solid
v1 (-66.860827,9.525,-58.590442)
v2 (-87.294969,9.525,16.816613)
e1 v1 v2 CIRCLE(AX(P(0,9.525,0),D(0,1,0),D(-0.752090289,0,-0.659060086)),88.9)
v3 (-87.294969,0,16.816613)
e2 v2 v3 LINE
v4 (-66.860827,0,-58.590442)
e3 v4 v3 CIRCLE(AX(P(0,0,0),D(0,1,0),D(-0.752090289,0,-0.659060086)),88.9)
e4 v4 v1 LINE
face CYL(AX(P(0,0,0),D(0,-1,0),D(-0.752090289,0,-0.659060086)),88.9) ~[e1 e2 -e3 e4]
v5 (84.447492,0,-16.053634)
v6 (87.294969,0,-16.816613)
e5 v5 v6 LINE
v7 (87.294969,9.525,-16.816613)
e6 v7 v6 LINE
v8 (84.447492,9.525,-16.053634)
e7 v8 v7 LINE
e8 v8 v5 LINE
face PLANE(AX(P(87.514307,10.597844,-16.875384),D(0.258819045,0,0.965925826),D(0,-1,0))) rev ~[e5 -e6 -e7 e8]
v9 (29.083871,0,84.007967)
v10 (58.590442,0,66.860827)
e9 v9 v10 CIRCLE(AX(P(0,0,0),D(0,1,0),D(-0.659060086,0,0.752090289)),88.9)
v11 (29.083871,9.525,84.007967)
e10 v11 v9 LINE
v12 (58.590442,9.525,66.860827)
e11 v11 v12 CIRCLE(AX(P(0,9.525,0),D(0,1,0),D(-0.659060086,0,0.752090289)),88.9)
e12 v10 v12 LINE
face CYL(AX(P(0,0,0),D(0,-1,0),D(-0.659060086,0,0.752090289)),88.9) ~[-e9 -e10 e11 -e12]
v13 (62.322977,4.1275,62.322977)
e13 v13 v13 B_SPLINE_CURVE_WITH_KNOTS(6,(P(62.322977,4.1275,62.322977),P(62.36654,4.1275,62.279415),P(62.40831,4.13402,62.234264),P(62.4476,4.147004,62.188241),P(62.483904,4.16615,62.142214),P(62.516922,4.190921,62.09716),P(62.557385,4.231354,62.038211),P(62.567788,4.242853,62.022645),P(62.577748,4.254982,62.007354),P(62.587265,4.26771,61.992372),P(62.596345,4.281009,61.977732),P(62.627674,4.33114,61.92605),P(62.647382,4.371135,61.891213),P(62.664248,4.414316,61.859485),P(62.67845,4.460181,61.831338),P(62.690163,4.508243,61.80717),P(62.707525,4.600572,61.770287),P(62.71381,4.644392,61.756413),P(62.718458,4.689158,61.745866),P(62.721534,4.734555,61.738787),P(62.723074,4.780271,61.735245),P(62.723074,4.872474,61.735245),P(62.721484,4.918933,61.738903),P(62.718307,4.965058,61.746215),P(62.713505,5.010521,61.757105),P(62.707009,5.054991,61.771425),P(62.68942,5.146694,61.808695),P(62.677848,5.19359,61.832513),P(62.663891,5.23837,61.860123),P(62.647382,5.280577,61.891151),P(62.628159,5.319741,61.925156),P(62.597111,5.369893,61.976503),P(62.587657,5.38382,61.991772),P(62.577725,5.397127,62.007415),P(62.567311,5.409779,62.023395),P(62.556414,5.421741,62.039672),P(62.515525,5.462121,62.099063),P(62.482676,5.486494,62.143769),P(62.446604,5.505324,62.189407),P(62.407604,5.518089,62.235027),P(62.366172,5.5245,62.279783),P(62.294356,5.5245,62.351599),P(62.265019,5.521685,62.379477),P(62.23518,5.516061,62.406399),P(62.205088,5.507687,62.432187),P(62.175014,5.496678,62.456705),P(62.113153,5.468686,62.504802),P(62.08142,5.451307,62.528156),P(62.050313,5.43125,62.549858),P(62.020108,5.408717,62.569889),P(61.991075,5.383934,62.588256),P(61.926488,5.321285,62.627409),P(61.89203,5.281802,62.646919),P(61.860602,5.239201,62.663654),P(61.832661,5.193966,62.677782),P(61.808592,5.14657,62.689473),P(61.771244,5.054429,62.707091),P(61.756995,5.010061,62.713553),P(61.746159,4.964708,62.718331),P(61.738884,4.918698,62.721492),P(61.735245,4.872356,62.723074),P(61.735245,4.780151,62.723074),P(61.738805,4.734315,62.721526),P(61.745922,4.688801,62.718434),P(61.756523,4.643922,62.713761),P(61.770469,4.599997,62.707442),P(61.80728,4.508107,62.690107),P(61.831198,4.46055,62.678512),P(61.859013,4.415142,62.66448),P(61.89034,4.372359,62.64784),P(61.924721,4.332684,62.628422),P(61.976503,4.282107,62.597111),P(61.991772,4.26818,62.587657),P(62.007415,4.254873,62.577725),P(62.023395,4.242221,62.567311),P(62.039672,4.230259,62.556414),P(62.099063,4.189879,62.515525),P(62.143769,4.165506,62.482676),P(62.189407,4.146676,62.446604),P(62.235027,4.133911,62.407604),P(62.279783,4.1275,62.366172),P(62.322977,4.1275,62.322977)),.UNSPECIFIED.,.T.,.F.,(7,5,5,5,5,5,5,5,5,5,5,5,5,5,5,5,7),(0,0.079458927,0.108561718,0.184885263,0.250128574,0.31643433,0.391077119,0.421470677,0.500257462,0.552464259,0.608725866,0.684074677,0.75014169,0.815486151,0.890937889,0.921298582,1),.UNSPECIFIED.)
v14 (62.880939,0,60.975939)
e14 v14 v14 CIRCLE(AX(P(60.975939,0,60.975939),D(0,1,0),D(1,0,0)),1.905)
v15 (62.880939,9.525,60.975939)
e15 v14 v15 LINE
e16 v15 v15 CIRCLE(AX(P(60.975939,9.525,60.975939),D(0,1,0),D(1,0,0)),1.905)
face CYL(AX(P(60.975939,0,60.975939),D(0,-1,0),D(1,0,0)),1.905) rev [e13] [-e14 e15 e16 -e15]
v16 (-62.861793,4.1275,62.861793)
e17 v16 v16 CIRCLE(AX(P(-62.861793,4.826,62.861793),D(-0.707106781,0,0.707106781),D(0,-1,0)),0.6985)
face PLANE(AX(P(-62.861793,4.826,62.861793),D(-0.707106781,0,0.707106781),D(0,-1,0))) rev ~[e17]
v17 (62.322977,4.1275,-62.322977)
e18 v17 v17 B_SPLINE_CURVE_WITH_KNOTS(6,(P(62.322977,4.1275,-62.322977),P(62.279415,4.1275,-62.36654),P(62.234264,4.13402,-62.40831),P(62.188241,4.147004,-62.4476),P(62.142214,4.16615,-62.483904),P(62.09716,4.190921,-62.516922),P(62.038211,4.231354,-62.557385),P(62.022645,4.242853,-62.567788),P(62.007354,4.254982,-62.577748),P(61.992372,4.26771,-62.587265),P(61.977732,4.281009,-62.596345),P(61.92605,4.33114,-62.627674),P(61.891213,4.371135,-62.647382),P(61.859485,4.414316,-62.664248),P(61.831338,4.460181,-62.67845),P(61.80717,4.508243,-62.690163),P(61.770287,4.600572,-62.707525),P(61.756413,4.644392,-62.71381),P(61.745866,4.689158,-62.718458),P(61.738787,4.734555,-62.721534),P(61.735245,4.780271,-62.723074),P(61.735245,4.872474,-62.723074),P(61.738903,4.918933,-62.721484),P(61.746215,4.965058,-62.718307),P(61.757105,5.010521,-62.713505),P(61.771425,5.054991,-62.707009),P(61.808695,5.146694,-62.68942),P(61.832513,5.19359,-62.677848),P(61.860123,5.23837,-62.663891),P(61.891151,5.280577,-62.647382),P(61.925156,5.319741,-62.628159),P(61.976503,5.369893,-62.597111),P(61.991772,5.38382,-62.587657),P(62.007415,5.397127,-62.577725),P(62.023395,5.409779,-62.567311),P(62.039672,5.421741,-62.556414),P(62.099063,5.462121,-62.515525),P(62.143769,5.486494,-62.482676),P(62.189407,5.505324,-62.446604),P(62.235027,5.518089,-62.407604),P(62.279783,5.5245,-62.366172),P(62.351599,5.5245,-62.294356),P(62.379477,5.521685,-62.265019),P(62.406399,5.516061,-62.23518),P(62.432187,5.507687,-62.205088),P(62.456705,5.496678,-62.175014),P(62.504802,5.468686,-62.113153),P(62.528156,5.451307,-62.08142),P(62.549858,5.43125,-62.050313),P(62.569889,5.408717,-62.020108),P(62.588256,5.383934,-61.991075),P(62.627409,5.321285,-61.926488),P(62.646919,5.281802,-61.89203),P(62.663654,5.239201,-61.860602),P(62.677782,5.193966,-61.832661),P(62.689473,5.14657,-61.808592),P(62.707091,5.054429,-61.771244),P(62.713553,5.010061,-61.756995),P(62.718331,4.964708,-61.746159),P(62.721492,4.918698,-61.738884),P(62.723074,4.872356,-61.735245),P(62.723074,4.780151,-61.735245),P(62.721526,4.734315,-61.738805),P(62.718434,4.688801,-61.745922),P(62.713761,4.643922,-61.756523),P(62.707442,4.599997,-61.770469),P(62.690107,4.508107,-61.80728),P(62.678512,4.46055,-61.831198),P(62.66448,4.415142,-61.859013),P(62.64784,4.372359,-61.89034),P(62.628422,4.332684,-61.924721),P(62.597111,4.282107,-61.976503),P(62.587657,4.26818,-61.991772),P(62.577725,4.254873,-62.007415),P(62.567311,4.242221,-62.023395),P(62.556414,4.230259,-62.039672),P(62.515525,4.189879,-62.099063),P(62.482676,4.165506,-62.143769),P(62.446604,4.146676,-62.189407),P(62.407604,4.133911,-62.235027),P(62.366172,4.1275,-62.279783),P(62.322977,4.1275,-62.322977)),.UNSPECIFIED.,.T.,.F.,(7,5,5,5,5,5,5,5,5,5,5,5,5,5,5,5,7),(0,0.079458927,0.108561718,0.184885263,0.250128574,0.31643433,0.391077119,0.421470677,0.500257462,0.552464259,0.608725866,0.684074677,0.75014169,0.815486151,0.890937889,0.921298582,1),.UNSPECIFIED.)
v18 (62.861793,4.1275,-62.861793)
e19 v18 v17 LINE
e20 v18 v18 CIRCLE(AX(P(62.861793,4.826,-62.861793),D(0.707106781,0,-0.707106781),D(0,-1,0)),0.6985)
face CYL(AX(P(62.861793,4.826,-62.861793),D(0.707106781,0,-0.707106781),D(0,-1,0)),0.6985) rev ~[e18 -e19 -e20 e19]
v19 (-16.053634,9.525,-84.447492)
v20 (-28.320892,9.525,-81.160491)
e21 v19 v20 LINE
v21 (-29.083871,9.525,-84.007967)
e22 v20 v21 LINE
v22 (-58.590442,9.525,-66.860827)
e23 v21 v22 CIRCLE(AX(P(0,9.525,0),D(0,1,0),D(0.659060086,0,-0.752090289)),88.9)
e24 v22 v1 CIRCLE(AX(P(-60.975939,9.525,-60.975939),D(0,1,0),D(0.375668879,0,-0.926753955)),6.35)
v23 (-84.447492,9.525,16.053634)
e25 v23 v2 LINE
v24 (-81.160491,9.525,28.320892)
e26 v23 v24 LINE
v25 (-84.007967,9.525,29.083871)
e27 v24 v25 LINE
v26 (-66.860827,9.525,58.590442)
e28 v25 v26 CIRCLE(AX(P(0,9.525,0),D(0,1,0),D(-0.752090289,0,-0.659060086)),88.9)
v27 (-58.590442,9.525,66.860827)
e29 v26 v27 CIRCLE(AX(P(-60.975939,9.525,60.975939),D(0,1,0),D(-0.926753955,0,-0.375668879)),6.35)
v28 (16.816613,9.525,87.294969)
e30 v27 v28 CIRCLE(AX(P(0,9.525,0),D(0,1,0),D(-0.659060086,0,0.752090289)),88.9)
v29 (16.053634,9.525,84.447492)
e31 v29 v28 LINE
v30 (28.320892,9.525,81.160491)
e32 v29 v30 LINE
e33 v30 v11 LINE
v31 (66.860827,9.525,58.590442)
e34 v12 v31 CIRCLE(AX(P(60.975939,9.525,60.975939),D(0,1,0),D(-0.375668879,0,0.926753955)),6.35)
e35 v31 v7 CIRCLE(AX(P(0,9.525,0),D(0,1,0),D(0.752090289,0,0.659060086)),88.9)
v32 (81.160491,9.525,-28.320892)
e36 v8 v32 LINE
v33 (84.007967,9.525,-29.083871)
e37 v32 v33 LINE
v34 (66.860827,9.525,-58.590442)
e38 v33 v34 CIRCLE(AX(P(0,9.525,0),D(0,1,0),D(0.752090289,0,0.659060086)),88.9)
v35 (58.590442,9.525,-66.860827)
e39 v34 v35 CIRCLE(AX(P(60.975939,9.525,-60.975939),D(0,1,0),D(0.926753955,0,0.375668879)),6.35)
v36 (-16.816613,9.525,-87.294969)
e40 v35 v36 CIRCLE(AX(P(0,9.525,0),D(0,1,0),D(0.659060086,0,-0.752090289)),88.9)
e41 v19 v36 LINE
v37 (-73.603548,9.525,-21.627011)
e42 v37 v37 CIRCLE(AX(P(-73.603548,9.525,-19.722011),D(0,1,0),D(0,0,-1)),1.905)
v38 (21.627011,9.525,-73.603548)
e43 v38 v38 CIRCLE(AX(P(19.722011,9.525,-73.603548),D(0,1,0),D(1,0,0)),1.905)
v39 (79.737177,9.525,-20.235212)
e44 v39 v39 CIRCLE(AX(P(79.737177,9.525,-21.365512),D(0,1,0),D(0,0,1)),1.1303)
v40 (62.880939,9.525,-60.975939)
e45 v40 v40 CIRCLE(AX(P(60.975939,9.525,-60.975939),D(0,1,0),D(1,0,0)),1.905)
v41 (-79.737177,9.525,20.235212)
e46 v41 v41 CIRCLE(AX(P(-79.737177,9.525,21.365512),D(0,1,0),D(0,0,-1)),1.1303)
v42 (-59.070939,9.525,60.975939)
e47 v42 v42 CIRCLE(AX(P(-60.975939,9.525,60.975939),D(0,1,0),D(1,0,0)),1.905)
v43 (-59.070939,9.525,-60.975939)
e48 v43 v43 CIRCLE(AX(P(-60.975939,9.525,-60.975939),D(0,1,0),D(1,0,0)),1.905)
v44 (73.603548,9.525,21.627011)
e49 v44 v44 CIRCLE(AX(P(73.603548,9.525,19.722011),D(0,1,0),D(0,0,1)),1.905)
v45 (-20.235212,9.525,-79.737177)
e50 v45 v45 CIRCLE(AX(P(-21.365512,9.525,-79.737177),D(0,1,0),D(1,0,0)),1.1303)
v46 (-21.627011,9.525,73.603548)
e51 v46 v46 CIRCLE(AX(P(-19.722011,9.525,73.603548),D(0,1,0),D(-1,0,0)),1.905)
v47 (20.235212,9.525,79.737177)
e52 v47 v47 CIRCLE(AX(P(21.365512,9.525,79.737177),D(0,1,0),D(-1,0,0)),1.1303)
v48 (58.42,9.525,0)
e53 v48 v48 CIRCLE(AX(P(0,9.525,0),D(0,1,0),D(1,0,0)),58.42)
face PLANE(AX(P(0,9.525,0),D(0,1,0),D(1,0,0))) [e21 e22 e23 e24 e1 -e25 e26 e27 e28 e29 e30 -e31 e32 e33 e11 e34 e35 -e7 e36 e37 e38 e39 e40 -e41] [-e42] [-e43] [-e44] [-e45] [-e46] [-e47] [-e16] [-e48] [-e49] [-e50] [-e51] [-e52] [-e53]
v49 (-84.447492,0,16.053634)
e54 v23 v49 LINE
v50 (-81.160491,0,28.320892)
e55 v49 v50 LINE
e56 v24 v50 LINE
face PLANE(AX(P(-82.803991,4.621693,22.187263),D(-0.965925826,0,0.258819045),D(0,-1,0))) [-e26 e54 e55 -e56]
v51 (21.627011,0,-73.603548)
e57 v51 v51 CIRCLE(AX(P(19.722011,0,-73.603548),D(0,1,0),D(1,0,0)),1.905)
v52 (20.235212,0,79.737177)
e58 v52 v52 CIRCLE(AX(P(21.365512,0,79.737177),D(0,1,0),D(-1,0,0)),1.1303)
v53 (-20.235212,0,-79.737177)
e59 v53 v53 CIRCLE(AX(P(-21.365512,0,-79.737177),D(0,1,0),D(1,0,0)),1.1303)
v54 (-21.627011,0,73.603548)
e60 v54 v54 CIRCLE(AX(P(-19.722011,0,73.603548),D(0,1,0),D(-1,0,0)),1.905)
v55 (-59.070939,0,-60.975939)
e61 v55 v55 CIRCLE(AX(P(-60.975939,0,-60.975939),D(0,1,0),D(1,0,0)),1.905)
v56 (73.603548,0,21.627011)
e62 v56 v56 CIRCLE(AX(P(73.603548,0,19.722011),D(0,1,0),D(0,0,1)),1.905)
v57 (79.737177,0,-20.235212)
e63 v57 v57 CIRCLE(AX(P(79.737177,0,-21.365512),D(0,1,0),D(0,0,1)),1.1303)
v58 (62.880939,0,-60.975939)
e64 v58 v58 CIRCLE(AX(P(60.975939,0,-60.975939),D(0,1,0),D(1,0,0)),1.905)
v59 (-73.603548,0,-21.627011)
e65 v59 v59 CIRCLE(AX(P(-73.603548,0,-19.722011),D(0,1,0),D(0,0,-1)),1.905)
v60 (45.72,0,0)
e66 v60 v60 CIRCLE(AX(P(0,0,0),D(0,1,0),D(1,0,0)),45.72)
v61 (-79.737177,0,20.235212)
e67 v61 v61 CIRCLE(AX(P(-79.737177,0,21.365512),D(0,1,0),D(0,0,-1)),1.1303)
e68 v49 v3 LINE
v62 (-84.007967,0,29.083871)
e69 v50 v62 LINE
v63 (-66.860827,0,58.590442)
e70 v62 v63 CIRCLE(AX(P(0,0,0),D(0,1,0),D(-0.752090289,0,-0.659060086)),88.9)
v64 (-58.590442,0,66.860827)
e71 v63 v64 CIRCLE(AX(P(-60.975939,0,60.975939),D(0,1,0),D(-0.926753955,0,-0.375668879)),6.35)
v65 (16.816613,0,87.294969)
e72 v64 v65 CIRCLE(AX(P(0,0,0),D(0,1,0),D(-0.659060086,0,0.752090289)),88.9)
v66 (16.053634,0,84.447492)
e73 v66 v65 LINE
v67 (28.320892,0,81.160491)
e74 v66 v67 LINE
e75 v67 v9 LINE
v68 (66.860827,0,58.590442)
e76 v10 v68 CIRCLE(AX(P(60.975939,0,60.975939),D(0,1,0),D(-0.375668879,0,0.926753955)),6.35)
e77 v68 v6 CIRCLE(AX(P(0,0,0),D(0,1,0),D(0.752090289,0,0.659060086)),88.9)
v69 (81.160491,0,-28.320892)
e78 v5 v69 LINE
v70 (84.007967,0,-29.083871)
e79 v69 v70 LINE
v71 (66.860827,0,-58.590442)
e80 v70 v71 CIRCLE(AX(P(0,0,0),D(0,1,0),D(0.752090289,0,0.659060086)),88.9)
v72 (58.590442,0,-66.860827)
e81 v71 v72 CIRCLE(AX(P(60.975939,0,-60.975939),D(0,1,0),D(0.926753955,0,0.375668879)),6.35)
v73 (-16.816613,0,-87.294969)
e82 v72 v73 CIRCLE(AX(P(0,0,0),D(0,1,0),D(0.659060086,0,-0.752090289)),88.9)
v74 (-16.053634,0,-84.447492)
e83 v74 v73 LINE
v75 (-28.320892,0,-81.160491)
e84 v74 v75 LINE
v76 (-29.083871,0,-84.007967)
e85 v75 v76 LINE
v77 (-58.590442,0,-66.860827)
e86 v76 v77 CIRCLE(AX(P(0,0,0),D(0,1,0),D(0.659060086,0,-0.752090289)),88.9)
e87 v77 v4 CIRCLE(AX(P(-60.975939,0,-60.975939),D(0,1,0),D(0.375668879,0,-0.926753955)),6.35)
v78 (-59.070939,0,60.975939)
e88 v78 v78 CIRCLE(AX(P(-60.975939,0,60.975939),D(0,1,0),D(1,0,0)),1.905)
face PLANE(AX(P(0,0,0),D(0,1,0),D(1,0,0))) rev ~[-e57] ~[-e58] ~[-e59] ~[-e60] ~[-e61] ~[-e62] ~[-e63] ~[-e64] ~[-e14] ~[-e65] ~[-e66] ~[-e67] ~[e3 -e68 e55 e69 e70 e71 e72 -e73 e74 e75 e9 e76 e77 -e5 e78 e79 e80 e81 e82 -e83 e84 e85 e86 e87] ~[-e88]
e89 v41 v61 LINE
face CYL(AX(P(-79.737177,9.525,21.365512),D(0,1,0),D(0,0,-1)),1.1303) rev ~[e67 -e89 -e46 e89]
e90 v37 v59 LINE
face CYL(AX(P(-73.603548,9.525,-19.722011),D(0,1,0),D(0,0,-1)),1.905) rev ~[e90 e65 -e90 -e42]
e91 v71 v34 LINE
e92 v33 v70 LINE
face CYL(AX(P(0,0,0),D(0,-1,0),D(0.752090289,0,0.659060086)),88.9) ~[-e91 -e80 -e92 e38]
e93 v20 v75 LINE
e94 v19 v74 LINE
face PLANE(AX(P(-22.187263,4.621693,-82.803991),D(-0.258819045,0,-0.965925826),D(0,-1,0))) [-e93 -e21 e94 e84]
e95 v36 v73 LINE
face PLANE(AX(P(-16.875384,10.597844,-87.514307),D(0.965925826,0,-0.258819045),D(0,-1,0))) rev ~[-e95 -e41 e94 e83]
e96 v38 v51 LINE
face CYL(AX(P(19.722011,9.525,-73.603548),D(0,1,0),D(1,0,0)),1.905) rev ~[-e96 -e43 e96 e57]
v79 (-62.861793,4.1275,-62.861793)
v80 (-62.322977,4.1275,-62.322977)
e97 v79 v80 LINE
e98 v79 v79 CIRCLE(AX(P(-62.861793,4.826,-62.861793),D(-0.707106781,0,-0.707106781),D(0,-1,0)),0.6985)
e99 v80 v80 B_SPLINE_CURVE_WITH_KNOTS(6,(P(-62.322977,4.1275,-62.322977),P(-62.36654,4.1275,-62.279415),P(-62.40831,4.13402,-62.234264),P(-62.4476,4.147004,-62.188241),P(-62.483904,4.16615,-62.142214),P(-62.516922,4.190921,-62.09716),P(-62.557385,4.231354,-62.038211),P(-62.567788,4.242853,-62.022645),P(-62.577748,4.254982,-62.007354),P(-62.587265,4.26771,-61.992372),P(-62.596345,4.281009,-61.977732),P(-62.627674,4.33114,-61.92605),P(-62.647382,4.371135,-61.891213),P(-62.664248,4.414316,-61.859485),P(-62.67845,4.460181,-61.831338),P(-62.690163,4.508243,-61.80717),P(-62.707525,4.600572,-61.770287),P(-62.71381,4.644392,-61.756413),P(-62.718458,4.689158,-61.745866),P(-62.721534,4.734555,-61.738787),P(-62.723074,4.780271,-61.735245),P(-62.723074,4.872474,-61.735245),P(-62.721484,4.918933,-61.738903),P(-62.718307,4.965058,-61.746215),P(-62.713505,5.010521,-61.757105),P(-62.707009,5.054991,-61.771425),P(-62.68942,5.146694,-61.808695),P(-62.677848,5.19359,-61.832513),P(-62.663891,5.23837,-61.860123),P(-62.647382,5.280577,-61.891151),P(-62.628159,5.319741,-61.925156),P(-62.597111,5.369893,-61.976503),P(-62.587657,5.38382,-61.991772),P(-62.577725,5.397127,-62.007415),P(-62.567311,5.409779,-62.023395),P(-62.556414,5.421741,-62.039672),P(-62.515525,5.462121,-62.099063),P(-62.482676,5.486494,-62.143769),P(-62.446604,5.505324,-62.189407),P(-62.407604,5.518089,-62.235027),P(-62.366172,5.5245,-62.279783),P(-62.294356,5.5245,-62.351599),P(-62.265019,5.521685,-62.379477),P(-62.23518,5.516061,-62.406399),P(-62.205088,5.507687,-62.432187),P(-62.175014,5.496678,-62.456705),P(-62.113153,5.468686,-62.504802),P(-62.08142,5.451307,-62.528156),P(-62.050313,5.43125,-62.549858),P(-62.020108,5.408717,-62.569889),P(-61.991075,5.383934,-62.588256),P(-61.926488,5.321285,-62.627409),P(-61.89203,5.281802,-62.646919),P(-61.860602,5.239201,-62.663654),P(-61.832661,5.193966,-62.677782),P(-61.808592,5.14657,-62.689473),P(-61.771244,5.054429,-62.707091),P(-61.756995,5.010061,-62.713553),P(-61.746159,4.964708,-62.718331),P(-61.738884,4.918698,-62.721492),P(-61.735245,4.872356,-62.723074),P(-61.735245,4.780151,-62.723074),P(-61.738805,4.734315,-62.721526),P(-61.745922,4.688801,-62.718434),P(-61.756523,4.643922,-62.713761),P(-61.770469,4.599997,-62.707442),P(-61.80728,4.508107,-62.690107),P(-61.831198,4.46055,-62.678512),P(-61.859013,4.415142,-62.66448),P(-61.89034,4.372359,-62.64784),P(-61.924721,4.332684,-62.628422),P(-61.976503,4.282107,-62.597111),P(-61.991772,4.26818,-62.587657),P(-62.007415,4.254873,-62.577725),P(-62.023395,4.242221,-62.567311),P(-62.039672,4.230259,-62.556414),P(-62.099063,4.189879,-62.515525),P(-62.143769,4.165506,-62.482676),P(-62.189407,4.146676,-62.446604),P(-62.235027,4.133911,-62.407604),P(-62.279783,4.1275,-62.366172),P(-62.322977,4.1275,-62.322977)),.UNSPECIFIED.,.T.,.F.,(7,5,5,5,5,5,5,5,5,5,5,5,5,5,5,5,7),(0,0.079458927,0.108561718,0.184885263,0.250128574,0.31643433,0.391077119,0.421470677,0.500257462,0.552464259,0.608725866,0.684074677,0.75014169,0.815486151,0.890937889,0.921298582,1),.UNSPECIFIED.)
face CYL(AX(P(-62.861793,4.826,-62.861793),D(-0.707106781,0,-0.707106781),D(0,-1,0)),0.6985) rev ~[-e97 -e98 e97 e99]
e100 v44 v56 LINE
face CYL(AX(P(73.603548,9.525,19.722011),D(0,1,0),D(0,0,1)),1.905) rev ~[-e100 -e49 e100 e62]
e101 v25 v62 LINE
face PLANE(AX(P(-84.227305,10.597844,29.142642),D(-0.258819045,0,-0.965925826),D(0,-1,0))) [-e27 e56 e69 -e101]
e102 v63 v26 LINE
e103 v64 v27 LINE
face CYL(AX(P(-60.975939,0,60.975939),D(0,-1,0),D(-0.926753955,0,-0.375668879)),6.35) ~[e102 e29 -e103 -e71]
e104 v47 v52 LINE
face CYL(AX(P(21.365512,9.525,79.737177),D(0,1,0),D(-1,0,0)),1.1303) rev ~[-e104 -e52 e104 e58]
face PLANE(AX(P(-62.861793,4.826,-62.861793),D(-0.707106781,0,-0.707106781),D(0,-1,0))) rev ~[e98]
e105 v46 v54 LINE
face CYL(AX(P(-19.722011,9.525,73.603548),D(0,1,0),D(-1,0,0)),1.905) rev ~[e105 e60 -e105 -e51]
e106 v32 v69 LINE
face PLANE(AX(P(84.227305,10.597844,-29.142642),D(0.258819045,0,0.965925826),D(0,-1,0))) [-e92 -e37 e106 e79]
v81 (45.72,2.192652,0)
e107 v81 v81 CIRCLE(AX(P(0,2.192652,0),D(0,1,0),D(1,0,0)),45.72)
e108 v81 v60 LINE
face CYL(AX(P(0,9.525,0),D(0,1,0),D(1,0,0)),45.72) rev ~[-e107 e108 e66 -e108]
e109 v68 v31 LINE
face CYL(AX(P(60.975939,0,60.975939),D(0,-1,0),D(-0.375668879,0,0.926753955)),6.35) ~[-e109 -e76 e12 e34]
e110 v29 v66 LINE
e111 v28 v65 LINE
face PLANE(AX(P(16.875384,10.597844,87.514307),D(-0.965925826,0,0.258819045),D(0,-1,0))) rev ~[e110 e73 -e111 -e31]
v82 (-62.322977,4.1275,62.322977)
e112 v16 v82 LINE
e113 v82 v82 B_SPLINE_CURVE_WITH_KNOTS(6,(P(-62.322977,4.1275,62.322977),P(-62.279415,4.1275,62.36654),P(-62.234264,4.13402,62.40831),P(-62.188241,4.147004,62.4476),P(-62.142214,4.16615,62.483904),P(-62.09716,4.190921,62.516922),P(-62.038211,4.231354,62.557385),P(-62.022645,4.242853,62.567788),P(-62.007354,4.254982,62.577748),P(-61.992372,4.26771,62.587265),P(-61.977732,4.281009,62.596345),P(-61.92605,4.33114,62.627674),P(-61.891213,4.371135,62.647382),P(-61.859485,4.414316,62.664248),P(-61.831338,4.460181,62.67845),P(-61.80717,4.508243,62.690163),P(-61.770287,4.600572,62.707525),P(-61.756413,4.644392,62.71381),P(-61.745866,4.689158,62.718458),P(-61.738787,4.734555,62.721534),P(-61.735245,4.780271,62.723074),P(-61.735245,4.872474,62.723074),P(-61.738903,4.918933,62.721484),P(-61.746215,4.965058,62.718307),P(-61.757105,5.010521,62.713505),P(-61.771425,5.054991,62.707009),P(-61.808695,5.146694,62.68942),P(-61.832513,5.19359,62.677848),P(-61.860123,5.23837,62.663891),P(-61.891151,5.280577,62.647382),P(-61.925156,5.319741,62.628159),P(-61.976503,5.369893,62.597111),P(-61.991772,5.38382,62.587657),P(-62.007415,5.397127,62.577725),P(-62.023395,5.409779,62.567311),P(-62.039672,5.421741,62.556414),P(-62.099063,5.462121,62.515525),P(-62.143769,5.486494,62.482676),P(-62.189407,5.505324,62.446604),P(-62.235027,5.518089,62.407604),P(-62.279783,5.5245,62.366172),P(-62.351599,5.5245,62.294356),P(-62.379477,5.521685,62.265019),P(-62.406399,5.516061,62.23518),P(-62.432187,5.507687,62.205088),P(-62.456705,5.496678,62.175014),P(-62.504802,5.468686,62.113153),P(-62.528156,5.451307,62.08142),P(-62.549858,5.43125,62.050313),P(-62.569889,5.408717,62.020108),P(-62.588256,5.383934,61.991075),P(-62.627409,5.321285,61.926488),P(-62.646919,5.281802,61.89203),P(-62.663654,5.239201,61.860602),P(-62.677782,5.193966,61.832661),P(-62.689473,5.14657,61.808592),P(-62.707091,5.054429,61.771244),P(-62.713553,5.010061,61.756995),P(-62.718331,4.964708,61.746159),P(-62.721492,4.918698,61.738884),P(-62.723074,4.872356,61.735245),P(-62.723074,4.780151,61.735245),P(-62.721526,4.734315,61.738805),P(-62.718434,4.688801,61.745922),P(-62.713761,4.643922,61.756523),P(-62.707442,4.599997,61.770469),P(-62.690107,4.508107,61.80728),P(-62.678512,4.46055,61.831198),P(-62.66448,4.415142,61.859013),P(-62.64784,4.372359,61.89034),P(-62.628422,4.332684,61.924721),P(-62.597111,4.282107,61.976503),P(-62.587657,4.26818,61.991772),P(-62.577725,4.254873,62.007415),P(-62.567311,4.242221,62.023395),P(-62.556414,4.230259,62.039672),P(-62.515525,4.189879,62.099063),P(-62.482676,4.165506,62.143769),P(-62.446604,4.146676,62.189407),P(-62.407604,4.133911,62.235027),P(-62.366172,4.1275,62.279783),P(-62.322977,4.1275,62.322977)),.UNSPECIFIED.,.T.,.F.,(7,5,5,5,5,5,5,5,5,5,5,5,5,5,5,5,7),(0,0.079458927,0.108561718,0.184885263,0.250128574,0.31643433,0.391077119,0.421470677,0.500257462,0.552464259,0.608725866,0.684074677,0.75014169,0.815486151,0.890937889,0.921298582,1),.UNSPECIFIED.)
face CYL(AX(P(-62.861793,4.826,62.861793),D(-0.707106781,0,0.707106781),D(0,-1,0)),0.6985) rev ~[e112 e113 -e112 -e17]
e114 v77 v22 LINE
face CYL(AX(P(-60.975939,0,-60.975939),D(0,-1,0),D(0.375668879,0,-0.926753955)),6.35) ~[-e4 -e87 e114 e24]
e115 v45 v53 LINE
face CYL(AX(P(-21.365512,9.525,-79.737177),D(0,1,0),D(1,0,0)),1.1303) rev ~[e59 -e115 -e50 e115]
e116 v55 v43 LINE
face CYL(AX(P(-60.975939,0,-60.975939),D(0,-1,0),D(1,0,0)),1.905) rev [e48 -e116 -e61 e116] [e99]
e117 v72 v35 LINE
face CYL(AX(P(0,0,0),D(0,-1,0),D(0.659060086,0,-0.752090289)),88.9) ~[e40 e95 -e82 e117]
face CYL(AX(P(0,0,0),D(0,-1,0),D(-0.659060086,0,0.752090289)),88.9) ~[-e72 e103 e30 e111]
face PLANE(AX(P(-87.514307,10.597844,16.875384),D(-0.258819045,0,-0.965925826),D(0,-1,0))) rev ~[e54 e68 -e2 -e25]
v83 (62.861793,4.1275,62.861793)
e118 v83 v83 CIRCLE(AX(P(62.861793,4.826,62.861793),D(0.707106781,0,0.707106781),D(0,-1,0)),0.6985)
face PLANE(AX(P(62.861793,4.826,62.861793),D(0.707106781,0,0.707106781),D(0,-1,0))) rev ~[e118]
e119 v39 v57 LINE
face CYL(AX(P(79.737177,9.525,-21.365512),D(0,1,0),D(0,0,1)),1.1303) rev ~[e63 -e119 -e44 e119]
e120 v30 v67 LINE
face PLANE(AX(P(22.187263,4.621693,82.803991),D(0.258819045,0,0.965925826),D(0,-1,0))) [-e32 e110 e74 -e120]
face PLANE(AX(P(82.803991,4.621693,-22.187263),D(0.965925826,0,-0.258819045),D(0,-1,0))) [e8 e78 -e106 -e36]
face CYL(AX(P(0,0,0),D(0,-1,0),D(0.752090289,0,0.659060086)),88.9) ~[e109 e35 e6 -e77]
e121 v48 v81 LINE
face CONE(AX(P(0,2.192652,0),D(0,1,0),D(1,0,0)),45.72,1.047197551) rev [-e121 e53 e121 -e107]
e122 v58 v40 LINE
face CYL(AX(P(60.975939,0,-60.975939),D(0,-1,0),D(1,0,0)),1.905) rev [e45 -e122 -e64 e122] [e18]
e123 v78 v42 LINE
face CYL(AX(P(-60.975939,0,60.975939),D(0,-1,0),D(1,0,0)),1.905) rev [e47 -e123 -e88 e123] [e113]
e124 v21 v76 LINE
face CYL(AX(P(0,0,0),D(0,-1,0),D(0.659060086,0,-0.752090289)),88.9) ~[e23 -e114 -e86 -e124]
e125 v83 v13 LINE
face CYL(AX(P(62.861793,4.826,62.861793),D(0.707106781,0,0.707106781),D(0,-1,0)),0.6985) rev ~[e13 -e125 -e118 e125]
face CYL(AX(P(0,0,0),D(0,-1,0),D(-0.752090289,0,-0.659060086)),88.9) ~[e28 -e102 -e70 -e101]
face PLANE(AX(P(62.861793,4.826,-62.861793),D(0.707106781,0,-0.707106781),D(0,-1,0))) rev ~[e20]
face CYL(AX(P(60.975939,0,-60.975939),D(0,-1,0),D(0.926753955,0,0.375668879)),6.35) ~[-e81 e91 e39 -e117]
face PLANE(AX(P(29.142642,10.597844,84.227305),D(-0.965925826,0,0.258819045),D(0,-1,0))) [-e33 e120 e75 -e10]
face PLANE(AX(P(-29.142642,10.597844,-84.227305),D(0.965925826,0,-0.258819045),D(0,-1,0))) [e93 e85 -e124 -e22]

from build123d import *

# Parameters (mm, degrees)
SKETCH1_R           = 1.905
BOSS_EXTRUDE1_DEPTH = 9.525
SKETCH2_R           = 45.72
CUT_EXTRUDE1_DEPTH  = 12.7
SKETCH10_R          = 0.6985
CUT_EXTRUDE5_DEPTH  = 3.175
CIRPATTERN5_COUNT   = 4
CHAMFER1_SIZE       = 12.7
CHAMFER1_SIZE2      = 7.332348419
SKETCH4_R           = 1.905
CUT_EXTRUDE6_DEPTH  = 10.5250001
CIRPATTERN6_COUNT   = 4
SKETCH13_R          = 1.1303
CUT_EXTRUDE7_DEPTH  = 10.5250001
CIRPATTERN7_COUNT   = 4
SKETCH14_W          = 11.95230377
SKETCH14_H          = 12.7
CUT_EXTRUDE8_DEPTH  = 3.175
CIRPATTERN8_COUNT   = 4


with BuildPart() as part:
    # Sketch1 → Boss-Extrude1 (new body)
    with BuildSketch(Plane(origin=(0, 0, 0), x_dir=(1, 0, 0), z_dir=(0, 1, 0))):
        with BuildLine():
            ThreePointArc((-66.860826677, 58.590441679), (-88.9, 0), (-66.860826677, -58.590441679))
            ThreePointArc((-66.860826677, -58.590441679), (-65.466067123, -65.466067123), (-58.590441679, -66.860826677))
            ThreePointArc((-58.590441679, -66.860826677), (0, -88.9), (58.590441679, -66.860826677))
            ThreePointArc((58.590441679, -66.860826677), (65.466067123, -65.466067123), (66.860826677, -58.590441679))
            ThreePointArc((66.860826677, -58.590441679), (88.9, 0), (66.860826677, 58.590441679))
            ThreePointArc((66.860826677, 58.590441679), (65.466067123, 65.466067123), (58.590441679, 66.860826677))
            ThreePointArc((58.590441679, 66.860826677), (0, 88.9), (-58.590441679, 66.860826677))
            ThreePointArc((-58.590441679, 66.860826677), (-65.466067123, 65.466067123), (-66.860826677, 58.590441679))
        make_face()
        with Locations((-60.975939062, 60.975939062)):
            Circle(SKETCH1_R, mode=Mode.SUBTRACT)
        with Locations((60.975939062, 60.975939062)):
            Circle(SKETCH1_R, mode=Mode.SUBTRACT)
        with Locations((60.975939062, -60.975939062)):
            Circle(SKETCH1_R, mode=Mode.SUBTRACT)
        with Locations((-60.975939062, -60.975939062)):
            Circle(SKETCH1_R, mode=Mode.SUBTRACT)
    extrude(amount=BOSS_EXTRUDE1_DEPTH)

    # Sketch2 → Cut-Extrude1 (cut)
    with BuildSketch(Plane(origin=(0, 9.525, 0), x_dir=(1, 0, 0), z_dir=(0, 1, 0))):
        Circle(SKETCH2_R)
    extrude(amount=-CUT_EXTRUDE1_DEPTH, mode=Mode.SUBTRACT)

    # Sketch10 → Cut-Extrude5 (cut)
    with BuildSketch(Plane(origin=(-62.861792847, 0, -62.861792847), x_dir=(0, -1, 0), z_dir=(-0.707106781, 0, -0.707106781))):
        with Locations((-4.826, 0)):
            Circle(SKETCH10_R)
    cut_extrude5 = extrude(amount=-CUT_EXTRUDE5_DEPTH, mode=Mode.SUBTRACT)

    # CirPattern5: Cut-Extrude5 ×4 about axis
    cirpattern5_axis = Axis((0, 0, 0), (0, 1, 0))
    for i in range(1, CIRPATTERN5_COUNT):
        add(cut_extrude5.rotate(cirpattern5_axis, i * 360 / CIRPATTERN5_COUNT), mode=Mode.SUBTRACT)

    # Chamfer1
    chamfer1_edges = [part.edges().sort_by_distance(p)[0] for p in [
        (-45.72, 9.525, 0),
    ]]
    chamfer1_side = [part.faces().sort_by_distance(p)[0] for p in [
        (0, 9.525, -86.385528286),
    ]]
    chamfer(chamfer1_edges, length=CHAMFER1_SIZE, length2=CHAMFER1_SIZE2, reference=chamfer1_side[0])

    # Sketch4 → Cut-Extrude6 (cut, through all)
    with BuildSketch(Plane(origin=(0, 9.525, 0), x_dir=(1, 0, 0), z_dir=(0, 1, 0))):
        with Locations((19.722011237, 73.603547963)):
            Circle(SKETCH4_R)
    cut_extrude6 = extrude(amount=-CUT_EXTRUDE6_DEPTH, mode=Mode.SUBTRACT)

    # CirPattern6: Cut-Extrude6 ×4 about axis
    cirpattern6_axis = Axis((0, 0, 0), (0, 1, 0))
    for i in range(1, CIRPATTERN6_COUNT):
        add(cut_extrude6.rotate(cirpattern6_axis, i * 360 / CIRPATTERN6_COUNT), mode=Mode.SUBTRACT)

    # Sketch13 → Cut-Extrude7 (cut, through all)
    with BuildSketch(Plane(origin=(0, 9.525, 0), x_dir=(1, 0, 0), z_dir=(0, 1, 0))):
        with Locations((-21.365512173, 79.73717696)):
            Circle(SKETCH13_R)
    cut_extrude7 = extrude(amount=-CUT_EXTRUDE7_DEPTH, mode=Mode.SUBTRACT)

    # CirPattern7: Cut-Extrude7 ×4 about axis
    cirpattern7_axis = Axis((0, 0, 0), (0, 1, 0))
    for i in range(1, CIRPATTERN7_COUNT):
        add(cut_extrude7.rotate(cirpattern7_axis, i * 360 / CIRPATTERN7_COUNT), mode=Mode.SUBTRACT)

    # Sketch14 → Cut-Extrude8 (cut)
    with BuildSketch(Plane(origin=(-23.00901311, 0, -85.870805957), x_dir=(0, -1, 0), z_dir=(-0.258819045, 0, -0.965925826))):
        with Locations((-4.621692603, 0)):
            Rectangle(SKETCH14_W, SKETCH14_H)
    cut_extrude8 = extrude(amount=-CUT_EXTRUDE8_DEPTH, mode=Mode.SUBTRACT)

    # CirPattern8: Cut-Extrude8 ×4 about axis
    cirpattern8_axis = Axis((0, 0, 0), (0, 1, 0))
    for i in range(1, CIRPATTERN8_COUNT):
        add(cut_extrude8.rotate(cirpattern8_axis, i * 360 / CIRPATTERN8_COUNT), mode=Mode.SUBTRACT)


solid = part.part
